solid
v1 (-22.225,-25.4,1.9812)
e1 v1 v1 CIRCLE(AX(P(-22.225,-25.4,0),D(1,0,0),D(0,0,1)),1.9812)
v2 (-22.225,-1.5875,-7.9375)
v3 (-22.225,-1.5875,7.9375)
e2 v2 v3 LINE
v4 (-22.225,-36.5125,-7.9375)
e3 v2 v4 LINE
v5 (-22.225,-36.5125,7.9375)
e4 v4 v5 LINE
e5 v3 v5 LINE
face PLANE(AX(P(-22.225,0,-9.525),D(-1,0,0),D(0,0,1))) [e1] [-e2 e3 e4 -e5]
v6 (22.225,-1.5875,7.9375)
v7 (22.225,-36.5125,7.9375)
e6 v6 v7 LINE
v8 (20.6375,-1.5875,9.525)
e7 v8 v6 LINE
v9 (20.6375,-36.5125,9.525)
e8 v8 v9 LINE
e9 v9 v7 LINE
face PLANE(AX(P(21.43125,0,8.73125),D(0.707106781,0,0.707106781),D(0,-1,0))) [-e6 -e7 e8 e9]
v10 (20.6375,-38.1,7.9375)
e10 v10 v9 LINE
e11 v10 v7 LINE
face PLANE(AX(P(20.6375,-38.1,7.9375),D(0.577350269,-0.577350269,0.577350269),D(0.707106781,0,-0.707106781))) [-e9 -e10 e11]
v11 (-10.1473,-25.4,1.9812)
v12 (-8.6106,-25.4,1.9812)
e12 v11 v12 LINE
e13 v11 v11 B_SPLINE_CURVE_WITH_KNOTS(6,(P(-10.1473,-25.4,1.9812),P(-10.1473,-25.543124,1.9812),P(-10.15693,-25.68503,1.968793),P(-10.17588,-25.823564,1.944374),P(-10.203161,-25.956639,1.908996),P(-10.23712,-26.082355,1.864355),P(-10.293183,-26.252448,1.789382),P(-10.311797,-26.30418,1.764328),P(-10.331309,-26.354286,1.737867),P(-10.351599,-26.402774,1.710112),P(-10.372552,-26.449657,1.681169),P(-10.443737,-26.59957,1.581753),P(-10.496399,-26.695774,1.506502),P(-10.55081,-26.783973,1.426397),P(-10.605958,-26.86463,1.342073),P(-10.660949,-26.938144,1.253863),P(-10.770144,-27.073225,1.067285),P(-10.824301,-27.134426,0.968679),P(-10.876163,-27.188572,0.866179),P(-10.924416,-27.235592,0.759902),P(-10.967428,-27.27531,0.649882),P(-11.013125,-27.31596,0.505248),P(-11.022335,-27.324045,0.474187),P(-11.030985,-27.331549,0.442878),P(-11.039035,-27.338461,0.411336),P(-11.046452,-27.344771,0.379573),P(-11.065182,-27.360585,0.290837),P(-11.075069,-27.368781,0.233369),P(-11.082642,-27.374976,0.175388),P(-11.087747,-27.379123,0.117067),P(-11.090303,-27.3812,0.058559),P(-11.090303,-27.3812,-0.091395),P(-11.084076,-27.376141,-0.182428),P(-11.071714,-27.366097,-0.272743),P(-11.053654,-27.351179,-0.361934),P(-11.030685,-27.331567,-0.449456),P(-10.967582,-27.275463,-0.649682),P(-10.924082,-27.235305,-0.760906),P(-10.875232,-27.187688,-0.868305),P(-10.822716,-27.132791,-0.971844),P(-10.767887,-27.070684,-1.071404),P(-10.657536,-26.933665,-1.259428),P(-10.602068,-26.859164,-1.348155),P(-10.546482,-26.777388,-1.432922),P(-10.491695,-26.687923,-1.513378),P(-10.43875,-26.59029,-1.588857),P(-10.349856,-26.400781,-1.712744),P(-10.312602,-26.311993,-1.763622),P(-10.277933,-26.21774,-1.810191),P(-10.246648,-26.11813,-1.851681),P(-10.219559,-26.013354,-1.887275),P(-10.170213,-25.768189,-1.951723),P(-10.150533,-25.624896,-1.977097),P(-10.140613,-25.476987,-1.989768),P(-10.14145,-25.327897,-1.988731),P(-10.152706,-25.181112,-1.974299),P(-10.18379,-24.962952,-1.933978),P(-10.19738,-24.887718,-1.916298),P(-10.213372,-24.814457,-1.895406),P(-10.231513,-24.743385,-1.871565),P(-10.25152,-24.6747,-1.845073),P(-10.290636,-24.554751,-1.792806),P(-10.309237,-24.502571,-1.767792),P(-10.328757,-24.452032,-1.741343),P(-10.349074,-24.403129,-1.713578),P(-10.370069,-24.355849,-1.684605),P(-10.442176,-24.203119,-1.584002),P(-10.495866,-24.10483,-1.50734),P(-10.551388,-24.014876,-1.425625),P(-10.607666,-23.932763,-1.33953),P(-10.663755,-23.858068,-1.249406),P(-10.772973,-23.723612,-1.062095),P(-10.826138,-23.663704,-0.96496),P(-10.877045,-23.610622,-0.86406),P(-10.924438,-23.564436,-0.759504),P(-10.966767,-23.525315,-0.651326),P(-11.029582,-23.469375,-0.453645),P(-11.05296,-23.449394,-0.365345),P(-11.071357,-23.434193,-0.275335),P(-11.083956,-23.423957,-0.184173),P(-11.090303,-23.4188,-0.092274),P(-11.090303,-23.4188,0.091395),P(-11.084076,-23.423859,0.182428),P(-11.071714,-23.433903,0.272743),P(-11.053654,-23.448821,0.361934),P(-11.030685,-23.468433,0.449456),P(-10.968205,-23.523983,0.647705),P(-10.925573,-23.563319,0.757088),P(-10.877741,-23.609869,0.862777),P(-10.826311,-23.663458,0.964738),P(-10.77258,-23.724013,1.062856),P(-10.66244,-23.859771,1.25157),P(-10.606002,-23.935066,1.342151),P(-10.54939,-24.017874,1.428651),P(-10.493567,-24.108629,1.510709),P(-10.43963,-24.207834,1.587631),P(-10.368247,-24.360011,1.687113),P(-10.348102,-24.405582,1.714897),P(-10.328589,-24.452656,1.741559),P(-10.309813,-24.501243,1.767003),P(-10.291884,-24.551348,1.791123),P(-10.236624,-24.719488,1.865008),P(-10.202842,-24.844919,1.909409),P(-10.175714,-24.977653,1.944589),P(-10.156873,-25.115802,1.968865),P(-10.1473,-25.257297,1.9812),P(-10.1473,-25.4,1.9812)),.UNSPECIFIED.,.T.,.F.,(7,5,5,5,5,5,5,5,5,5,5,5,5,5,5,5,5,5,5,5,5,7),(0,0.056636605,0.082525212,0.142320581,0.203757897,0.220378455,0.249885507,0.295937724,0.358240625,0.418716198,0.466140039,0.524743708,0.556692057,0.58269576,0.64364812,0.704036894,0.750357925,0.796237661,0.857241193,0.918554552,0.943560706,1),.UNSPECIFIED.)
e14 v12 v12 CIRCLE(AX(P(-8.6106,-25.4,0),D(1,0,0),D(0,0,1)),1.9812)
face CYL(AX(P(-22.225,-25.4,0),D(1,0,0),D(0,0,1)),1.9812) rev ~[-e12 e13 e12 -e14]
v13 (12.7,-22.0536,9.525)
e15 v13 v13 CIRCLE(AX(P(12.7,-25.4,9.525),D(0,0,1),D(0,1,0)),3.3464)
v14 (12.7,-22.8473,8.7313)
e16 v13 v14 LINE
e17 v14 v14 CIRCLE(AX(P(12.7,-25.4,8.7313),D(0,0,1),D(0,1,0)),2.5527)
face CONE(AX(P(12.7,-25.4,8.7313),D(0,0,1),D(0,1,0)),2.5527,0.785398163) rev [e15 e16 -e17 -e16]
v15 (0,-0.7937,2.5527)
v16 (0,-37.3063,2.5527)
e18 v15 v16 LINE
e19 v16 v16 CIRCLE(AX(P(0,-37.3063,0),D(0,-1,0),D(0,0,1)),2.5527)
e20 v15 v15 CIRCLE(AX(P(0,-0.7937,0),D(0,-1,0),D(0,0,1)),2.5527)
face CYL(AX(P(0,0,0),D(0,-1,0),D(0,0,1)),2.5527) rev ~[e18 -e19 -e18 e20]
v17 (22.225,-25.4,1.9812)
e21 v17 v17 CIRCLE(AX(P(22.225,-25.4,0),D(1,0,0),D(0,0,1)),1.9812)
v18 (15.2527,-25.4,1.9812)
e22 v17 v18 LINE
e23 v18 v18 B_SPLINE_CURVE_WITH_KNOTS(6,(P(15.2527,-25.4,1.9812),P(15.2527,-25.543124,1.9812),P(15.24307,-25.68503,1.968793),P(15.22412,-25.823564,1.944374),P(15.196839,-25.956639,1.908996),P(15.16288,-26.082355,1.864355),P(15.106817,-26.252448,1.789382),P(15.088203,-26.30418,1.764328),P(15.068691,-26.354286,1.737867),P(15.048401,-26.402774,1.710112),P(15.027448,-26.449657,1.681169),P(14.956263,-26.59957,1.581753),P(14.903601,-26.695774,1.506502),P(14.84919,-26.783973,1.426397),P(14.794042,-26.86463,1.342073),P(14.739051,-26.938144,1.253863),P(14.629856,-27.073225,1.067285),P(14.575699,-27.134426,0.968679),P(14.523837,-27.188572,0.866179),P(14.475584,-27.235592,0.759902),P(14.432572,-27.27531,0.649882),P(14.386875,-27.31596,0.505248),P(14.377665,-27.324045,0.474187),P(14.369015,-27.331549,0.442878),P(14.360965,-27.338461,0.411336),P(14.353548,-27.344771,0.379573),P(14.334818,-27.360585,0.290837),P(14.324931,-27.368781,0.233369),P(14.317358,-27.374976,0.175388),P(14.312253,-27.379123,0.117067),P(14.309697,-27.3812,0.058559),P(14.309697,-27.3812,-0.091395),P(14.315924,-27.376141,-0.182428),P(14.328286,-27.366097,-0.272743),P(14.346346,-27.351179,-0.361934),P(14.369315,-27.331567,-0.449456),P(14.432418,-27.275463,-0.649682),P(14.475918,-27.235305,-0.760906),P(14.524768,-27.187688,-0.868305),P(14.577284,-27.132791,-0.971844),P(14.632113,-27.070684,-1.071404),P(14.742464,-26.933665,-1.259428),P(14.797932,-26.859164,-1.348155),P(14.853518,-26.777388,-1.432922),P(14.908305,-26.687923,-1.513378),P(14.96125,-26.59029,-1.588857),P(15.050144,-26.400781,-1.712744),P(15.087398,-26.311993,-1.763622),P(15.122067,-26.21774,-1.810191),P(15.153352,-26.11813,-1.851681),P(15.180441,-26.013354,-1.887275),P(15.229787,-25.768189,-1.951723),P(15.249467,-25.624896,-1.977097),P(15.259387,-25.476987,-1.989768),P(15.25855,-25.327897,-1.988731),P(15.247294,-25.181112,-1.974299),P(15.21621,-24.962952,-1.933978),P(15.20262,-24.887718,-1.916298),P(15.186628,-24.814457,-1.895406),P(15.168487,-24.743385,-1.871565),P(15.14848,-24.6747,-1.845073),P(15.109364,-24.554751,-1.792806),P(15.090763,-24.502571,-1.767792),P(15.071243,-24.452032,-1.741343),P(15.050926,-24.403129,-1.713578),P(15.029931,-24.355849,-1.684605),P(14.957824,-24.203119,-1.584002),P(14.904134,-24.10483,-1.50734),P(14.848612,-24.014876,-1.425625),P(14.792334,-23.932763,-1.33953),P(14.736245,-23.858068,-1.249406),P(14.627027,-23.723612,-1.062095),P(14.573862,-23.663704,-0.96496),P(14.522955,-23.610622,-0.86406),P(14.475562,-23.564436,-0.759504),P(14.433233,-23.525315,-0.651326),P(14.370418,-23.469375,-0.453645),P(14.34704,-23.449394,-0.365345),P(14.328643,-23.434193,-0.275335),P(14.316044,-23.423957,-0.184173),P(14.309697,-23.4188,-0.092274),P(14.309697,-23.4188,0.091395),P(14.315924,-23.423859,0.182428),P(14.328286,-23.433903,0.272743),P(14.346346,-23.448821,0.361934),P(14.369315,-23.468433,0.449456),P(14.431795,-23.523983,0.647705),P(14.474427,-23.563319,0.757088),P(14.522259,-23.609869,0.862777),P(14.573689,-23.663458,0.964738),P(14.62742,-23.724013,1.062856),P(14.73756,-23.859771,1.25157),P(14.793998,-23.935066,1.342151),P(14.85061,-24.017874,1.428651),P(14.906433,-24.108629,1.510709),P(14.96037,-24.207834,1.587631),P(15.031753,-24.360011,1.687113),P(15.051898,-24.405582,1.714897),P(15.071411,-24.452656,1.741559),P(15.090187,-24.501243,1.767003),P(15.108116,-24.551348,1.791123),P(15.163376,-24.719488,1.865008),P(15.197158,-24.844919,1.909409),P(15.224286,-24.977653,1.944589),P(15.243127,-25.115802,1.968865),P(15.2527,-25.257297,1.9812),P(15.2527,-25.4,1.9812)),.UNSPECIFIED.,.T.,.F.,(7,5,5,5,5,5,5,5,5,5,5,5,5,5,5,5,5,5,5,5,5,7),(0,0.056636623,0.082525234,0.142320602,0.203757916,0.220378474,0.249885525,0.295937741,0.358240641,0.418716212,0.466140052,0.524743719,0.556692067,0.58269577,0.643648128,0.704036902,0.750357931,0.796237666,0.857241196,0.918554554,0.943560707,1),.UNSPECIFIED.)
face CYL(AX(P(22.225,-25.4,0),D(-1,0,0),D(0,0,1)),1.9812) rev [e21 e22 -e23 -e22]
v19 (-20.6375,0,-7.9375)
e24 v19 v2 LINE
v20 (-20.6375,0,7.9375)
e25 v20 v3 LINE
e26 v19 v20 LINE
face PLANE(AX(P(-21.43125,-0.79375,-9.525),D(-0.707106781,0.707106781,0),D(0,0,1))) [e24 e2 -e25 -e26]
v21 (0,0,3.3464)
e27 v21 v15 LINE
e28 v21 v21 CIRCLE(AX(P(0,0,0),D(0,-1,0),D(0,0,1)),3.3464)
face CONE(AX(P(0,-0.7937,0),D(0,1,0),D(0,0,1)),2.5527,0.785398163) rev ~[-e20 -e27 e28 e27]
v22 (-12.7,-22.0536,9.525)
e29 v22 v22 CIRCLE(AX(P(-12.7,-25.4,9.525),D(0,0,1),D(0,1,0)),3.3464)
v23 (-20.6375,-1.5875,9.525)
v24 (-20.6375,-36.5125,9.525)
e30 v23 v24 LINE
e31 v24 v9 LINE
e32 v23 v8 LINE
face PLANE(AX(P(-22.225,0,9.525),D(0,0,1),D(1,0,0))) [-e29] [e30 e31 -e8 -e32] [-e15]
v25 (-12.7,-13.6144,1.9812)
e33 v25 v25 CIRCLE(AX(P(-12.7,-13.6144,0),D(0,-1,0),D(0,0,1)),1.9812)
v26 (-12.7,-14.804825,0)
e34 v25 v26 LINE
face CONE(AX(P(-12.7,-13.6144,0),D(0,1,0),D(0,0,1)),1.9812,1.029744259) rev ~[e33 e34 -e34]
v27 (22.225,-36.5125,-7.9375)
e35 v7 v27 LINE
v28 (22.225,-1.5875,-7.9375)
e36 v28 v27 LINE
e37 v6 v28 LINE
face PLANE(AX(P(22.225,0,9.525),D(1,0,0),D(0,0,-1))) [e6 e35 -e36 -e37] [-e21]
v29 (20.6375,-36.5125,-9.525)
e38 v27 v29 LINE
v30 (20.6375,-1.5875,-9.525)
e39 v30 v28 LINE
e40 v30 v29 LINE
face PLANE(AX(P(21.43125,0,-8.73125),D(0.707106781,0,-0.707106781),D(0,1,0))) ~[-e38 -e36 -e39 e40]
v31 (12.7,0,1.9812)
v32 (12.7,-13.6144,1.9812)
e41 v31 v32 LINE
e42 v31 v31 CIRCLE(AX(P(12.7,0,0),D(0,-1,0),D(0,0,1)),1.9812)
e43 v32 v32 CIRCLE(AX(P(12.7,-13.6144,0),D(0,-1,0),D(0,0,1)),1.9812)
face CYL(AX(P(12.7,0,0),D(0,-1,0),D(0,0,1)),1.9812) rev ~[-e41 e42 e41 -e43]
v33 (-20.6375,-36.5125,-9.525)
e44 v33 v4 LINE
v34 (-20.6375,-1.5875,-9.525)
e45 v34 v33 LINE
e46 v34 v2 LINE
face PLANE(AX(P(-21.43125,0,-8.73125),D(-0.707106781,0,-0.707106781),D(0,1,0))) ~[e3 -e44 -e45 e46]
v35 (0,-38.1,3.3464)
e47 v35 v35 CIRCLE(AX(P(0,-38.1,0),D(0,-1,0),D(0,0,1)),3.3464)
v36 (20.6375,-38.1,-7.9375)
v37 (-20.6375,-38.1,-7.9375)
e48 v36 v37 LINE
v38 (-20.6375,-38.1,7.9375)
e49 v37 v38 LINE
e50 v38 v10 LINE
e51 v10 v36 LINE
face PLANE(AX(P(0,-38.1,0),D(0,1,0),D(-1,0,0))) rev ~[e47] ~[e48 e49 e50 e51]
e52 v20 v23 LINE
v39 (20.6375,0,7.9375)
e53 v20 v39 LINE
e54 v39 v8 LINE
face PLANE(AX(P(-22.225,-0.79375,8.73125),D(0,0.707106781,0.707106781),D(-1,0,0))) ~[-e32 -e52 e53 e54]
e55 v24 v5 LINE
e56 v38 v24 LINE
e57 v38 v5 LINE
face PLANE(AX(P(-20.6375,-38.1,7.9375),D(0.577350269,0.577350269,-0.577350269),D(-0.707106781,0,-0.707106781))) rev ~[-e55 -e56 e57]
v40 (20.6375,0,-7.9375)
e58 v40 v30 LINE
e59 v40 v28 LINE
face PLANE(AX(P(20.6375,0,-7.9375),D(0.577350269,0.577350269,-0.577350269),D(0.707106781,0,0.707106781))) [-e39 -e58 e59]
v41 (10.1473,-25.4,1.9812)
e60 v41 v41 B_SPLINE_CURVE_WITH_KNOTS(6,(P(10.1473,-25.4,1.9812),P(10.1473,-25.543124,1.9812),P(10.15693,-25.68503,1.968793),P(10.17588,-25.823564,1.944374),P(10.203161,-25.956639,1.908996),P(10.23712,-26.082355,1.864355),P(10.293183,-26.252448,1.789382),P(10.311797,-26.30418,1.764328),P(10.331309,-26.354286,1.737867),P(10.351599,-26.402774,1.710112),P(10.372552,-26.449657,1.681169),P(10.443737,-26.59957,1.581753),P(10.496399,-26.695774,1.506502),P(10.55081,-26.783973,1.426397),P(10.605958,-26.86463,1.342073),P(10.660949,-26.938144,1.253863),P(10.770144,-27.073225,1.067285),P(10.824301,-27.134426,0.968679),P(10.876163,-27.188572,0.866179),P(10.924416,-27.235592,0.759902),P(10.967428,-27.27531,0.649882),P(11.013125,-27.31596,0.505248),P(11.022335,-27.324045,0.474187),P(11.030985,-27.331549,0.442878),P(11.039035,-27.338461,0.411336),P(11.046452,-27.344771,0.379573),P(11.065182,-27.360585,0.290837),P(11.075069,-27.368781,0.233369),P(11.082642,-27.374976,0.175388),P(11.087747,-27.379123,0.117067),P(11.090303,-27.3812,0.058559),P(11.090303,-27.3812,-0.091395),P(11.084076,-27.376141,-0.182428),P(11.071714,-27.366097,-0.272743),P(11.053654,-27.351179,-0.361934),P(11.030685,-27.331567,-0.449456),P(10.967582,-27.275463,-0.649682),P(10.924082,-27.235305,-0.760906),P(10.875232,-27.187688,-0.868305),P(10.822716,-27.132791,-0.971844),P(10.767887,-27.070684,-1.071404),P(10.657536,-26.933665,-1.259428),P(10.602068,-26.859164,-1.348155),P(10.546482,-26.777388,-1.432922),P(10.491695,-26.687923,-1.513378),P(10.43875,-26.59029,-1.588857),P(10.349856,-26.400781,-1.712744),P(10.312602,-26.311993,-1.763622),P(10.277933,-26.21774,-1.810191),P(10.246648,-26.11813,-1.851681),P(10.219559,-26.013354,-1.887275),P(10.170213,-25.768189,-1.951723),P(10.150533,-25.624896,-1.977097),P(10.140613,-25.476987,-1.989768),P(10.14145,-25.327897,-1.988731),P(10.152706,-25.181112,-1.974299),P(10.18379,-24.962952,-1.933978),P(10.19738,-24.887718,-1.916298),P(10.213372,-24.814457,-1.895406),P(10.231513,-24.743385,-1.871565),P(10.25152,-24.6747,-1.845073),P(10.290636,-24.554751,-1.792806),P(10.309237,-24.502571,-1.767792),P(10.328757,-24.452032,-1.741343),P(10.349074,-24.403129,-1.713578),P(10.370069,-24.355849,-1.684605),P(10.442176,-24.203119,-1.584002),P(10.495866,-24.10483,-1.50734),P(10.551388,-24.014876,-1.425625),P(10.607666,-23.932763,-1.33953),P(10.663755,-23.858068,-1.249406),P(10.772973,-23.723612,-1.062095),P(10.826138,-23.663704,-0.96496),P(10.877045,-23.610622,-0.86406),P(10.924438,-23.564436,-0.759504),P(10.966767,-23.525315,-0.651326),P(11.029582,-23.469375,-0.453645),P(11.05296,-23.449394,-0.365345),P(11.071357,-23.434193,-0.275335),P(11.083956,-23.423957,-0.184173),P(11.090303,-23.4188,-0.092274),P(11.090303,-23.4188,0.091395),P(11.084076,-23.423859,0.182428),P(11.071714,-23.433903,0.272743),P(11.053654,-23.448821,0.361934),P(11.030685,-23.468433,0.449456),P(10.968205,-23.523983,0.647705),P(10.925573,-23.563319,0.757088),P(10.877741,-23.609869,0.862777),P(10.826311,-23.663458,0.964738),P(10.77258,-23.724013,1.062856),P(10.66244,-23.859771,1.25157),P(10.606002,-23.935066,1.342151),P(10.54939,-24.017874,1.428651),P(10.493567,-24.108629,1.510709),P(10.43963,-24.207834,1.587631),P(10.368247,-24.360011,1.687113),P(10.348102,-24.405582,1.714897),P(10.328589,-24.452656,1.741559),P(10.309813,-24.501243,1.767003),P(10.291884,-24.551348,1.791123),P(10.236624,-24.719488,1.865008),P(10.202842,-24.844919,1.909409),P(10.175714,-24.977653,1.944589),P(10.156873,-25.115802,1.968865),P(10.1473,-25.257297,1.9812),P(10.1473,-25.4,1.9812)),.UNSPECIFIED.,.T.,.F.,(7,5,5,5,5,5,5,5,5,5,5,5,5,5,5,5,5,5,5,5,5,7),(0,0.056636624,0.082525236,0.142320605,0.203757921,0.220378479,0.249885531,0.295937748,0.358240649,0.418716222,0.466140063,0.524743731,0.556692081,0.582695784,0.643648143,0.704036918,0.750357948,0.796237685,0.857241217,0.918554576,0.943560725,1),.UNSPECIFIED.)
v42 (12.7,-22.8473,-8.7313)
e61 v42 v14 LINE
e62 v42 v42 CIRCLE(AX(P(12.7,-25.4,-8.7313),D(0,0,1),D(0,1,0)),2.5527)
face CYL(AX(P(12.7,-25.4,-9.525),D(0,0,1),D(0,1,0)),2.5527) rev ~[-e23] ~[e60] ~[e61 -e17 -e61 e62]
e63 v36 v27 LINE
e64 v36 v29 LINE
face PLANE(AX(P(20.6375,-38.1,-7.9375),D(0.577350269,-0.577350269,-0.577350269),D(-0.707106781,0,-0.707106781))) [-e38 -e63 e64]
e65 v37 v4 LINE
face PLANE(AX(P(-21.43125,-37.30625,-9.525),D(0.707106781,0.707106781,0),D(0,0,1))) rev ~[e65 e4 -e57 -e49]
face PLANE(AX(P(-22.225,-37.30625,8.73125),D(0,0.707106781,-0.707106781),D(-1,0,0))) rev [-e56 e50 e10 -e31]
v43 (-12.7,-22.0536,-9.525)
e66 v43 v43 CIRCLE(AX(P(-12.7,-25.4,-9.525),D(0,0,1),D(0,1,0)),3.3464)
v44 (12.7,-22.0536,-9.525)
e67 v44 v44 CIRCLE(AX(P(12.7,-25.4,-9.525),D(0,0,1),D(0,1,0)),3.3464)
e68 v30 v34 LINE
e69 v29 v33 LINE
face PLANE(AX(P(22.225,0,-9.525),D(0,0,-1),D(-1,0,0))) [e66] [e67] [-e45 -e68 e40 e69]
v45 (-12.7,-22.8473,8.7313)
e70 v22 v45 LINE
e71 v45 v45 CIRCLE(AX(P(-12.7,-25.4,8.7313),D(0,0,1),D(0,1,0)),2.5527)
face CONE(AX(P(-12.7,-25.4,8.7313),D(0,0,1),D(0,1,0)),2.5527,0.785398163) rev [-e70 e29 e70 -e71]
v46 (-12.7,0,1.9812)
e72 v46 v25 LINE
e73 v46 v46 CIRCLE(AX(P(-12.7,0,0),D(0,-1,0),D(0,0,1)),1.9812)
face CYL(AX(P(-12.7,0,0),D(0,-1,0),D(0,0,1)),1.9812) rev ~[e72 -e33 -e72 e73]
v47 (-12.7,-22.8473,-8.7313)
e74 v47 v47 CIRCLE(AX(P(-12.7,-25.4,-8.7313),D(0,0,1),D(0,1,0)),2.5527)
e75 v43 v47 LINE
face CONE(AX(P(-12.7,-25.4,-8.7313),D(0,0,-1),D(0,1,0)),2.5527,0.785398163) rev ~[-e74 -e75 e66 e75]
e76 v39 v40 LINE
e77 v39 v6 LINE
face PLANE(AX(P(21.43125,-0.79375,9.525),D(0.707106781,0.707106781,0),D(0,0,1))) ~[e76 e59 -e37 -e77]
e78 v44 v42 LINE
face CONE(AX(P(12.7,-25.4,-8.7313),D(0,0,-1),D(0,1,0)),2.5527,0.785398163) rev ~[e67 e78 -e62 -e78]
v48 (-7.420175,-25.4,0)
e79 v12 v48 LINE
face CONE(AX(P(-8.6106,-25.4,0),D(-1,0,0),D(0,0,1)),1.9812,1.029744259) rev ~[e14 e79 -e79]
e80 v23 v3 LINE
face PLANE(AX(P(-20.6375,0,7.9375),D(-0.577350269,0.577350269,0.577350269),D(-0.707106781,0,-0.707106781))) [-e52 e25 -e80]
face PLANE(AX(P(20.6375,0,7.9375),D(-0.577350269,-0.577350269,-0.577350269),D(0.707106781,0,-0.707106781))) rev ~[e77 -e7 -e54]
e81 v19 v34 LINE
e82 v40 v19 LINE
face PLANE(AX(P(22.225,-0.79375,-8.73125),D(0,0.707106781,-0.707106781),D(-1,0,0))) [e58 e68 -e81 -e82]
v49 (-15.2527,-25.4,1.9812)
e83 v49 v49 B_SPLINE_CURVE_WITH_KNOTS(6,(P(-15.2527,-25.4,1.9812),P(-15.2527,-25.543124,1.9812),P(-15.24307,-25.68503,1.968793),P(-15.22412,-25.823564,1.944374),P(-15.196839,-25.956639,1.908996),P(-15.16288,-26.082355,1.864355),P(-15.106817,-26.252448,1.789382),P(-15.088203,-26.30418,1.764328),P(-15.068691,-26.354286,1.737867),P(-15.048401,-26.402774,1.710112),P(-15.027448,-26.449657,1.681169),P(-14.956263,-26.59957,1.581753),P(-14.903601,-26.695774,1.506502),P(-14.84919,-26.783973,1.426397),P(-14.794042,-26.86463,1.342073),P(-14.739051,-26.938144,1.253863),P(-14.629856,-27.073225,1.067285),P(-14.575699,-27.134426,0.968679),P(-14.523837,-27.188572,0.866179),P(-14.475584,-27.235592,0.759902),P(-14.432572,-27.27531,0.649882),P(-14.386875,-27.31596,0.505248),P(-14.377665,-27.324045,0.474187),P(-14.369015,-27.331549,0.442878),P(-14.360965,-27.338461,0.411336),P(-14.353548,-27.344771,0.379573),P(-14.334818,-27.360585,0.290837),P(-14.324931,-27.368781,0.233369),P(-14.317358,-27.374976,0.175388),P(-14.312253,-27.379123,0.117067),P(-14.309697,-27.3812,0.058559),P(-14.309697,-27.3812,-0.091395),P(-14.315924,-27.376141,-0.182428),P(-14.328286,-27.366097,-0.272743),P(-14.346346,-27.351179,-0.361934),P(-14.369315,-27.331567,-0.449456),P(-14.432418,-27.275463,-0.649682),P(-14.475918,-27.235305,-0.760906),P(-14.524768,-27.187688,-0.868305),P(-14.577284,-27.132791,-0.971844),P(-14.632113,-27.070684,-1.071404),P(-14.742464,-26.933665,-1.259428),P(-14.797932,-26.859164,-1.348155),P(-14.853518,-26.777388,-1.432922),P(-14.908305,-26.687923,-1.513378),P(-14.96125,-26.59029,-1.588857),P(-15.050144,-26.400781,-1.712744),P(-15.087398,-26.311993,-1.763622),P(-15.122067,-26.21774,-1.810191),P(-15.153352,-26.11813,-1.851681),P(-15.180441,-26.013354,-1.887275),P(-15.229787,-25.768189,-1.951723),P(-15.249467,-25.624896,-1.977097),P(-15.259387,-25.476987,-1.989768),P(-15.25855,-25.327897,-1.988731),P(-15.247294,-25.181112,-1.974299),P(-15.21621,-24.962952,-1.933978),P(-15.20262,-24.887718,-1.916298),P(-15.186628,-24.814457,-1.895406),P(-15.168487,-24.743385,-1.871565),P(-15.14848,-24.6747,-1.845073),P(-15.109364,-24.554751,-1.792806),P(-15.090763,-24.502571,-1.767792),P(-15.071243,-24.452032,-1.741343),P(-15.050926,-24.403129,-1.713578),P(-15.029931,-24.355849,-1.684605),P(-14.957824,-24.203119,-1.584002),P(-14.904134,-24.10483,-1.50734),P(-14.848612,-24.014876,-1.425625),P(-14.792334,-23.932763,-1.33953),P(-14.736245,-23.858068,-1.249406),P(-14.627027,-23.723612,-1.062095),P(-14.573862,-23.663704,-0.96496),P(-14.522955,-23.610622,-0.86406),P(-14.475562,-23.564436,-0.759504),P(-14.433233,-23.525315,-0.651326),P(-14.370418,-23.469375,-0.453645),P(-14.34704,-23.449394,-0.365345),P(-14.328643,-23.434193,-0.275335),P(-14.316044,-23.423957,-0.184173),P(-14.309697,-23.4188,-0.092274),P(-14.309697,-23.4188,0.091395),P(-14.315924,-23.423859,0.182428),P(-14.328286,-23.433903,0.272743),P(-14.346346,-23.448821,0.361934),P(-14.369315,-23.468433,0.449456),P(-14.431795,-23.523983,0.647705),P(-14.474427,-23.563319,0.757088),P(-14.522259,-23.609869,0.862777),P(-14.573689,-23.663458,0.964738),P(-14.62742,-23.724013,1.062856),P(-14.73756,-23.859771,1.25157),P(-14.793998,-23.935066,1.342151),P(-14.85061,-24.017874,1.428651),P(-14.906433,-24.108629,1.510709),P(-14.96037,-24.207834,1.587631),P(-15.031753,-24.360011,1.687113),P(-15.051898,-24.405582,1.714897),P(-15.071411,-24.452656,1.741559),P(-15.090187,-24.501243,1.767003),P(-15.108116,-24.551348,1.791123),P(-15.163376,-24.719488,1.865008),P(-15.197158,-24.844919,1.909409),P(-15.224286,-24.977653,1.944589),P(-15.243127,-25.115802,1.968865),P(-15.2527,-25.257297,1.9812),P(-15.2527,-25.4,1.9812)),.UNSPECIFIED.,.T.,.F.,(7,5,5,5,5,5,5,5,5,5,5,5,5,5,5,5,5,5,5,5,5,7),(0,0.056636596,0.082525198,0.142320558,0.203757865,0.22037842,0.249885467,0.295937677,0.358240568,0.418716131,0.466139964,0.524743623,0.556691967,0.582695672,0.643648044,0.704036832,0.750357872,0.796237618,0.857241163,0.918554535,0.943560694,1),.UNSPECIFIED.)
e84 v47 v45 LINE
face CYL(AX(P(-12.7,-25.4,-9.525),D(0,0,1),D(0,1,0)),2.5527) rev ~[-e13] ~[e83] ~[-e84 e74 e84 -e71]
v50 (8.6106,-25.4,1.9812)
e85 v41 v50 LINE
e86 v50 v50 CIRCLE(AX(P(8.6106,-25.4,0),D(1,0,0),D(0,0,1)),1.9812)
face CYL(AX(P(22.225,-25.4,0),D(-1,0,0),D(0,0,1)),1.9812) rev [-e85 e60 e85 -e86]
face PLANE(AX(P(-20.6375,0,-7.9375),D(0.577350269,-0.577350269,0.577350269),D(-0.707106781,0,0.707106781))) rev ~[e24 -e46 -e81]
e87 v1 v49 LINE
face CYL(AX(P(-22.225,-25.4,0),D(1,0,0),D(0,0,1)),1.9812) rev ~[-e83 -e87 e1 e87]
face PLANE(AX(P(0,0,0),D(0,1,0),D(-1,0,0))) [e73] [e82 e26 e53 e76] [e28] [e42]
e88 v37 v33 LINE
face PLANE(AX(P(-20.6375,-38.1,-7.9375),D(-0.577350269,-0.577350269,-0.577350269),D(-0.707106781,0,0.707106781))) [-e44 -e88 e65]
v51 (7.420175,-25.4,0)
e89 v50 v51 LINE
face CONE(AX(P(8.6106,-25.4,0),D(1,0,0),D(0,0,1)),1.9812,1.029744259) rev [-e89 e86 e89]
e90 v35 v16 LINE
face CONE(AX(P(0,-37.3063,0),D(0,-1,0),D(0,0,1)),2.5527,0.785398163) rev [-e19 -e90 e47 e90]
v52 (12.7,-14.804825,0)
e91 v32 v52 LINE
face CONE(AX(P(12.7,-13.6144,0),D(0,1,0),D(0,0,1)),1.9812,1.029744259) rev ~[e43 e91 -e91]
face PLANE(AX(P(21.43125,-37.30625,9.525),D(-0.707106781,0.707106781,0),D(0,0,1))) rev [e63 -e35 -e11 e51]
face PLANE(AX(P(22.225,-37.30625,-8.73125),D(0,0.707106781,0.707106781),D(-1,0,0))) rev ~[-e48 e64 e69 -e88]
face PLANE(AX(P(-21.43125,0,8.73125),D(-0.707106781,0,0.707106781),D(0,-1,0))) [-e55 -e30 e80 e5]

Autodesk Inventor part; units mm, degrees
ref_plane "YZ Plane" through (0, 0, 0) normal (1, 0, 0) x (0, 1, 0)
ref_plane "XY Plane" through (0, 0, 0) normal (0, 0, 1) x (1, 0, 0)
sketch "Sketch2" plane through (0, 0, 0) normal (0, 1, 0) x (-1, 0, 0)
  line L0 (0, -13.335) -> (0, 13.335) construction
  line L1 (-31.115, 0) -> (31.115, 0) construction
  line L2 (22.225, 9.525) -> (-22.225, 9.525)
  line L3 (-22.225, 9.525) -> (-22.225, -9.525)
  line L4 (-22.225, -9.525) -> (22.225, -9.525)
  line L5 (22.225, -9.525) -> (22.225, 9.525)
  point P0 (0, 0)
  point P1 (0, 0)
  point P2 (-12.7, 0)
  point P3 (12.7, 0)
  dimension "d0" = 19.05
  dimension "d1" = 44.45
  dimension "d5" = 25.4
extrude "Extrusion1" add sketch "Sketch2" against normal blind 38.1
hole "Hole1" at (0, 0, 0) direction (0, -1, 0) diameter 5.1054 end through all
hole "Hole2" at (12.7, 0, 0) at (-12.7, 0, 0) direction (0, -1, 0) diameter 3.9624 depth 13.6144 tip angle 118 thread size "10-32 UNF" class "2B" standard "ANSI Unified Screw Threads"
ref_plane "Work Plane1" through (0, -25.4, 0) normal (0, 1, 0) x (-1, 0, 0)
sketch "Sketch3" plane through (22.225, 0, -9.525) normal (0, 0, -1) x (-1, 0, 0)
  line L0 (22.225, -45.72) -> (22.225, 7.62) construction
  line L1 (-8.89, -25.4) -> (53.34, -25.4) construction
  line L2 (-8.89, 0) -> (53.34, 0) construction
  point P0 (22.225, 0)
  point P1 (34.925, -25.4)
  point P2 (9.525, -25.4)
  dimension "d21" = 25.4
hole "Hole3" at (-12.7, -25.4, -9.525) at (12.7, -25.4, -9.525) direction (0, 0, 1) diameter 5.1054 end through all clearance for "Socket Head Cap Screw" size "#10" standard "Ansi Unified Screw Threads"
sketch "Sketch4" plane through (0, -25.4, 0) normal (0, 1, 0) x (-1, 0, 0)
  point P0 (0, 0)
sketch "Sketch5" plane through (-22.225, 0, -9.525) normal (-1, 0, 0) x (0, 0, 1)
  line L0 (9.525, 7.62) -> (9.525, -45.72) construction
  line L1 (-3.81, 0) -> (22.86, 0) construction
  line L2 (-3.81, -25.4) -> (22.86, -25.4) construction
  point P0 (9.525, 0)
  point P1 (9.525, -25.4)
hole "Hole4" at (-22.225, -25.4, 0) direction (1, 0, 0) diameter 3.9624 depth 13.6144 tip angle 118 thread size "10-32 UNF" class "2B" standard "ANSI Unified Screw Threads"
mirror "Mirror1" about plane through (0, 0, 0) normal (1, 0, 0) of "Hole4"
chamfer "Chamfer1" distance 1.5875 angle 45 12 edges at (-22.225, -19.05, -9.525) (22.225, -19.05, -9.525) (-22.225, -19.05, 9.525) (22.225, -19.05, 9.525) (0, 0, 9.525) (0, 0, -9.525) (-22.225, 0, 0) (22.225, 0, 0) (0, -38.1, 9.525) (22.225, -38.1, 0) (0, -38.1, -9.525) (-22.225, -38.1, 0)
chamfer "Chamfer2" distance 0.7937 angle 45 6 edges at (-12.7, -27.9527, 9.525) (12.7, -27.9527, 9.525) (12.7, -27.9527, -9.525) (-12.7, -27.9527, -9.525) (0, 0, -2.5527) (0, -38.1, -2.5527)
equation "\"d21\" = d5"
properties part number "5190-16-0001" material "Aluminum 6061"
